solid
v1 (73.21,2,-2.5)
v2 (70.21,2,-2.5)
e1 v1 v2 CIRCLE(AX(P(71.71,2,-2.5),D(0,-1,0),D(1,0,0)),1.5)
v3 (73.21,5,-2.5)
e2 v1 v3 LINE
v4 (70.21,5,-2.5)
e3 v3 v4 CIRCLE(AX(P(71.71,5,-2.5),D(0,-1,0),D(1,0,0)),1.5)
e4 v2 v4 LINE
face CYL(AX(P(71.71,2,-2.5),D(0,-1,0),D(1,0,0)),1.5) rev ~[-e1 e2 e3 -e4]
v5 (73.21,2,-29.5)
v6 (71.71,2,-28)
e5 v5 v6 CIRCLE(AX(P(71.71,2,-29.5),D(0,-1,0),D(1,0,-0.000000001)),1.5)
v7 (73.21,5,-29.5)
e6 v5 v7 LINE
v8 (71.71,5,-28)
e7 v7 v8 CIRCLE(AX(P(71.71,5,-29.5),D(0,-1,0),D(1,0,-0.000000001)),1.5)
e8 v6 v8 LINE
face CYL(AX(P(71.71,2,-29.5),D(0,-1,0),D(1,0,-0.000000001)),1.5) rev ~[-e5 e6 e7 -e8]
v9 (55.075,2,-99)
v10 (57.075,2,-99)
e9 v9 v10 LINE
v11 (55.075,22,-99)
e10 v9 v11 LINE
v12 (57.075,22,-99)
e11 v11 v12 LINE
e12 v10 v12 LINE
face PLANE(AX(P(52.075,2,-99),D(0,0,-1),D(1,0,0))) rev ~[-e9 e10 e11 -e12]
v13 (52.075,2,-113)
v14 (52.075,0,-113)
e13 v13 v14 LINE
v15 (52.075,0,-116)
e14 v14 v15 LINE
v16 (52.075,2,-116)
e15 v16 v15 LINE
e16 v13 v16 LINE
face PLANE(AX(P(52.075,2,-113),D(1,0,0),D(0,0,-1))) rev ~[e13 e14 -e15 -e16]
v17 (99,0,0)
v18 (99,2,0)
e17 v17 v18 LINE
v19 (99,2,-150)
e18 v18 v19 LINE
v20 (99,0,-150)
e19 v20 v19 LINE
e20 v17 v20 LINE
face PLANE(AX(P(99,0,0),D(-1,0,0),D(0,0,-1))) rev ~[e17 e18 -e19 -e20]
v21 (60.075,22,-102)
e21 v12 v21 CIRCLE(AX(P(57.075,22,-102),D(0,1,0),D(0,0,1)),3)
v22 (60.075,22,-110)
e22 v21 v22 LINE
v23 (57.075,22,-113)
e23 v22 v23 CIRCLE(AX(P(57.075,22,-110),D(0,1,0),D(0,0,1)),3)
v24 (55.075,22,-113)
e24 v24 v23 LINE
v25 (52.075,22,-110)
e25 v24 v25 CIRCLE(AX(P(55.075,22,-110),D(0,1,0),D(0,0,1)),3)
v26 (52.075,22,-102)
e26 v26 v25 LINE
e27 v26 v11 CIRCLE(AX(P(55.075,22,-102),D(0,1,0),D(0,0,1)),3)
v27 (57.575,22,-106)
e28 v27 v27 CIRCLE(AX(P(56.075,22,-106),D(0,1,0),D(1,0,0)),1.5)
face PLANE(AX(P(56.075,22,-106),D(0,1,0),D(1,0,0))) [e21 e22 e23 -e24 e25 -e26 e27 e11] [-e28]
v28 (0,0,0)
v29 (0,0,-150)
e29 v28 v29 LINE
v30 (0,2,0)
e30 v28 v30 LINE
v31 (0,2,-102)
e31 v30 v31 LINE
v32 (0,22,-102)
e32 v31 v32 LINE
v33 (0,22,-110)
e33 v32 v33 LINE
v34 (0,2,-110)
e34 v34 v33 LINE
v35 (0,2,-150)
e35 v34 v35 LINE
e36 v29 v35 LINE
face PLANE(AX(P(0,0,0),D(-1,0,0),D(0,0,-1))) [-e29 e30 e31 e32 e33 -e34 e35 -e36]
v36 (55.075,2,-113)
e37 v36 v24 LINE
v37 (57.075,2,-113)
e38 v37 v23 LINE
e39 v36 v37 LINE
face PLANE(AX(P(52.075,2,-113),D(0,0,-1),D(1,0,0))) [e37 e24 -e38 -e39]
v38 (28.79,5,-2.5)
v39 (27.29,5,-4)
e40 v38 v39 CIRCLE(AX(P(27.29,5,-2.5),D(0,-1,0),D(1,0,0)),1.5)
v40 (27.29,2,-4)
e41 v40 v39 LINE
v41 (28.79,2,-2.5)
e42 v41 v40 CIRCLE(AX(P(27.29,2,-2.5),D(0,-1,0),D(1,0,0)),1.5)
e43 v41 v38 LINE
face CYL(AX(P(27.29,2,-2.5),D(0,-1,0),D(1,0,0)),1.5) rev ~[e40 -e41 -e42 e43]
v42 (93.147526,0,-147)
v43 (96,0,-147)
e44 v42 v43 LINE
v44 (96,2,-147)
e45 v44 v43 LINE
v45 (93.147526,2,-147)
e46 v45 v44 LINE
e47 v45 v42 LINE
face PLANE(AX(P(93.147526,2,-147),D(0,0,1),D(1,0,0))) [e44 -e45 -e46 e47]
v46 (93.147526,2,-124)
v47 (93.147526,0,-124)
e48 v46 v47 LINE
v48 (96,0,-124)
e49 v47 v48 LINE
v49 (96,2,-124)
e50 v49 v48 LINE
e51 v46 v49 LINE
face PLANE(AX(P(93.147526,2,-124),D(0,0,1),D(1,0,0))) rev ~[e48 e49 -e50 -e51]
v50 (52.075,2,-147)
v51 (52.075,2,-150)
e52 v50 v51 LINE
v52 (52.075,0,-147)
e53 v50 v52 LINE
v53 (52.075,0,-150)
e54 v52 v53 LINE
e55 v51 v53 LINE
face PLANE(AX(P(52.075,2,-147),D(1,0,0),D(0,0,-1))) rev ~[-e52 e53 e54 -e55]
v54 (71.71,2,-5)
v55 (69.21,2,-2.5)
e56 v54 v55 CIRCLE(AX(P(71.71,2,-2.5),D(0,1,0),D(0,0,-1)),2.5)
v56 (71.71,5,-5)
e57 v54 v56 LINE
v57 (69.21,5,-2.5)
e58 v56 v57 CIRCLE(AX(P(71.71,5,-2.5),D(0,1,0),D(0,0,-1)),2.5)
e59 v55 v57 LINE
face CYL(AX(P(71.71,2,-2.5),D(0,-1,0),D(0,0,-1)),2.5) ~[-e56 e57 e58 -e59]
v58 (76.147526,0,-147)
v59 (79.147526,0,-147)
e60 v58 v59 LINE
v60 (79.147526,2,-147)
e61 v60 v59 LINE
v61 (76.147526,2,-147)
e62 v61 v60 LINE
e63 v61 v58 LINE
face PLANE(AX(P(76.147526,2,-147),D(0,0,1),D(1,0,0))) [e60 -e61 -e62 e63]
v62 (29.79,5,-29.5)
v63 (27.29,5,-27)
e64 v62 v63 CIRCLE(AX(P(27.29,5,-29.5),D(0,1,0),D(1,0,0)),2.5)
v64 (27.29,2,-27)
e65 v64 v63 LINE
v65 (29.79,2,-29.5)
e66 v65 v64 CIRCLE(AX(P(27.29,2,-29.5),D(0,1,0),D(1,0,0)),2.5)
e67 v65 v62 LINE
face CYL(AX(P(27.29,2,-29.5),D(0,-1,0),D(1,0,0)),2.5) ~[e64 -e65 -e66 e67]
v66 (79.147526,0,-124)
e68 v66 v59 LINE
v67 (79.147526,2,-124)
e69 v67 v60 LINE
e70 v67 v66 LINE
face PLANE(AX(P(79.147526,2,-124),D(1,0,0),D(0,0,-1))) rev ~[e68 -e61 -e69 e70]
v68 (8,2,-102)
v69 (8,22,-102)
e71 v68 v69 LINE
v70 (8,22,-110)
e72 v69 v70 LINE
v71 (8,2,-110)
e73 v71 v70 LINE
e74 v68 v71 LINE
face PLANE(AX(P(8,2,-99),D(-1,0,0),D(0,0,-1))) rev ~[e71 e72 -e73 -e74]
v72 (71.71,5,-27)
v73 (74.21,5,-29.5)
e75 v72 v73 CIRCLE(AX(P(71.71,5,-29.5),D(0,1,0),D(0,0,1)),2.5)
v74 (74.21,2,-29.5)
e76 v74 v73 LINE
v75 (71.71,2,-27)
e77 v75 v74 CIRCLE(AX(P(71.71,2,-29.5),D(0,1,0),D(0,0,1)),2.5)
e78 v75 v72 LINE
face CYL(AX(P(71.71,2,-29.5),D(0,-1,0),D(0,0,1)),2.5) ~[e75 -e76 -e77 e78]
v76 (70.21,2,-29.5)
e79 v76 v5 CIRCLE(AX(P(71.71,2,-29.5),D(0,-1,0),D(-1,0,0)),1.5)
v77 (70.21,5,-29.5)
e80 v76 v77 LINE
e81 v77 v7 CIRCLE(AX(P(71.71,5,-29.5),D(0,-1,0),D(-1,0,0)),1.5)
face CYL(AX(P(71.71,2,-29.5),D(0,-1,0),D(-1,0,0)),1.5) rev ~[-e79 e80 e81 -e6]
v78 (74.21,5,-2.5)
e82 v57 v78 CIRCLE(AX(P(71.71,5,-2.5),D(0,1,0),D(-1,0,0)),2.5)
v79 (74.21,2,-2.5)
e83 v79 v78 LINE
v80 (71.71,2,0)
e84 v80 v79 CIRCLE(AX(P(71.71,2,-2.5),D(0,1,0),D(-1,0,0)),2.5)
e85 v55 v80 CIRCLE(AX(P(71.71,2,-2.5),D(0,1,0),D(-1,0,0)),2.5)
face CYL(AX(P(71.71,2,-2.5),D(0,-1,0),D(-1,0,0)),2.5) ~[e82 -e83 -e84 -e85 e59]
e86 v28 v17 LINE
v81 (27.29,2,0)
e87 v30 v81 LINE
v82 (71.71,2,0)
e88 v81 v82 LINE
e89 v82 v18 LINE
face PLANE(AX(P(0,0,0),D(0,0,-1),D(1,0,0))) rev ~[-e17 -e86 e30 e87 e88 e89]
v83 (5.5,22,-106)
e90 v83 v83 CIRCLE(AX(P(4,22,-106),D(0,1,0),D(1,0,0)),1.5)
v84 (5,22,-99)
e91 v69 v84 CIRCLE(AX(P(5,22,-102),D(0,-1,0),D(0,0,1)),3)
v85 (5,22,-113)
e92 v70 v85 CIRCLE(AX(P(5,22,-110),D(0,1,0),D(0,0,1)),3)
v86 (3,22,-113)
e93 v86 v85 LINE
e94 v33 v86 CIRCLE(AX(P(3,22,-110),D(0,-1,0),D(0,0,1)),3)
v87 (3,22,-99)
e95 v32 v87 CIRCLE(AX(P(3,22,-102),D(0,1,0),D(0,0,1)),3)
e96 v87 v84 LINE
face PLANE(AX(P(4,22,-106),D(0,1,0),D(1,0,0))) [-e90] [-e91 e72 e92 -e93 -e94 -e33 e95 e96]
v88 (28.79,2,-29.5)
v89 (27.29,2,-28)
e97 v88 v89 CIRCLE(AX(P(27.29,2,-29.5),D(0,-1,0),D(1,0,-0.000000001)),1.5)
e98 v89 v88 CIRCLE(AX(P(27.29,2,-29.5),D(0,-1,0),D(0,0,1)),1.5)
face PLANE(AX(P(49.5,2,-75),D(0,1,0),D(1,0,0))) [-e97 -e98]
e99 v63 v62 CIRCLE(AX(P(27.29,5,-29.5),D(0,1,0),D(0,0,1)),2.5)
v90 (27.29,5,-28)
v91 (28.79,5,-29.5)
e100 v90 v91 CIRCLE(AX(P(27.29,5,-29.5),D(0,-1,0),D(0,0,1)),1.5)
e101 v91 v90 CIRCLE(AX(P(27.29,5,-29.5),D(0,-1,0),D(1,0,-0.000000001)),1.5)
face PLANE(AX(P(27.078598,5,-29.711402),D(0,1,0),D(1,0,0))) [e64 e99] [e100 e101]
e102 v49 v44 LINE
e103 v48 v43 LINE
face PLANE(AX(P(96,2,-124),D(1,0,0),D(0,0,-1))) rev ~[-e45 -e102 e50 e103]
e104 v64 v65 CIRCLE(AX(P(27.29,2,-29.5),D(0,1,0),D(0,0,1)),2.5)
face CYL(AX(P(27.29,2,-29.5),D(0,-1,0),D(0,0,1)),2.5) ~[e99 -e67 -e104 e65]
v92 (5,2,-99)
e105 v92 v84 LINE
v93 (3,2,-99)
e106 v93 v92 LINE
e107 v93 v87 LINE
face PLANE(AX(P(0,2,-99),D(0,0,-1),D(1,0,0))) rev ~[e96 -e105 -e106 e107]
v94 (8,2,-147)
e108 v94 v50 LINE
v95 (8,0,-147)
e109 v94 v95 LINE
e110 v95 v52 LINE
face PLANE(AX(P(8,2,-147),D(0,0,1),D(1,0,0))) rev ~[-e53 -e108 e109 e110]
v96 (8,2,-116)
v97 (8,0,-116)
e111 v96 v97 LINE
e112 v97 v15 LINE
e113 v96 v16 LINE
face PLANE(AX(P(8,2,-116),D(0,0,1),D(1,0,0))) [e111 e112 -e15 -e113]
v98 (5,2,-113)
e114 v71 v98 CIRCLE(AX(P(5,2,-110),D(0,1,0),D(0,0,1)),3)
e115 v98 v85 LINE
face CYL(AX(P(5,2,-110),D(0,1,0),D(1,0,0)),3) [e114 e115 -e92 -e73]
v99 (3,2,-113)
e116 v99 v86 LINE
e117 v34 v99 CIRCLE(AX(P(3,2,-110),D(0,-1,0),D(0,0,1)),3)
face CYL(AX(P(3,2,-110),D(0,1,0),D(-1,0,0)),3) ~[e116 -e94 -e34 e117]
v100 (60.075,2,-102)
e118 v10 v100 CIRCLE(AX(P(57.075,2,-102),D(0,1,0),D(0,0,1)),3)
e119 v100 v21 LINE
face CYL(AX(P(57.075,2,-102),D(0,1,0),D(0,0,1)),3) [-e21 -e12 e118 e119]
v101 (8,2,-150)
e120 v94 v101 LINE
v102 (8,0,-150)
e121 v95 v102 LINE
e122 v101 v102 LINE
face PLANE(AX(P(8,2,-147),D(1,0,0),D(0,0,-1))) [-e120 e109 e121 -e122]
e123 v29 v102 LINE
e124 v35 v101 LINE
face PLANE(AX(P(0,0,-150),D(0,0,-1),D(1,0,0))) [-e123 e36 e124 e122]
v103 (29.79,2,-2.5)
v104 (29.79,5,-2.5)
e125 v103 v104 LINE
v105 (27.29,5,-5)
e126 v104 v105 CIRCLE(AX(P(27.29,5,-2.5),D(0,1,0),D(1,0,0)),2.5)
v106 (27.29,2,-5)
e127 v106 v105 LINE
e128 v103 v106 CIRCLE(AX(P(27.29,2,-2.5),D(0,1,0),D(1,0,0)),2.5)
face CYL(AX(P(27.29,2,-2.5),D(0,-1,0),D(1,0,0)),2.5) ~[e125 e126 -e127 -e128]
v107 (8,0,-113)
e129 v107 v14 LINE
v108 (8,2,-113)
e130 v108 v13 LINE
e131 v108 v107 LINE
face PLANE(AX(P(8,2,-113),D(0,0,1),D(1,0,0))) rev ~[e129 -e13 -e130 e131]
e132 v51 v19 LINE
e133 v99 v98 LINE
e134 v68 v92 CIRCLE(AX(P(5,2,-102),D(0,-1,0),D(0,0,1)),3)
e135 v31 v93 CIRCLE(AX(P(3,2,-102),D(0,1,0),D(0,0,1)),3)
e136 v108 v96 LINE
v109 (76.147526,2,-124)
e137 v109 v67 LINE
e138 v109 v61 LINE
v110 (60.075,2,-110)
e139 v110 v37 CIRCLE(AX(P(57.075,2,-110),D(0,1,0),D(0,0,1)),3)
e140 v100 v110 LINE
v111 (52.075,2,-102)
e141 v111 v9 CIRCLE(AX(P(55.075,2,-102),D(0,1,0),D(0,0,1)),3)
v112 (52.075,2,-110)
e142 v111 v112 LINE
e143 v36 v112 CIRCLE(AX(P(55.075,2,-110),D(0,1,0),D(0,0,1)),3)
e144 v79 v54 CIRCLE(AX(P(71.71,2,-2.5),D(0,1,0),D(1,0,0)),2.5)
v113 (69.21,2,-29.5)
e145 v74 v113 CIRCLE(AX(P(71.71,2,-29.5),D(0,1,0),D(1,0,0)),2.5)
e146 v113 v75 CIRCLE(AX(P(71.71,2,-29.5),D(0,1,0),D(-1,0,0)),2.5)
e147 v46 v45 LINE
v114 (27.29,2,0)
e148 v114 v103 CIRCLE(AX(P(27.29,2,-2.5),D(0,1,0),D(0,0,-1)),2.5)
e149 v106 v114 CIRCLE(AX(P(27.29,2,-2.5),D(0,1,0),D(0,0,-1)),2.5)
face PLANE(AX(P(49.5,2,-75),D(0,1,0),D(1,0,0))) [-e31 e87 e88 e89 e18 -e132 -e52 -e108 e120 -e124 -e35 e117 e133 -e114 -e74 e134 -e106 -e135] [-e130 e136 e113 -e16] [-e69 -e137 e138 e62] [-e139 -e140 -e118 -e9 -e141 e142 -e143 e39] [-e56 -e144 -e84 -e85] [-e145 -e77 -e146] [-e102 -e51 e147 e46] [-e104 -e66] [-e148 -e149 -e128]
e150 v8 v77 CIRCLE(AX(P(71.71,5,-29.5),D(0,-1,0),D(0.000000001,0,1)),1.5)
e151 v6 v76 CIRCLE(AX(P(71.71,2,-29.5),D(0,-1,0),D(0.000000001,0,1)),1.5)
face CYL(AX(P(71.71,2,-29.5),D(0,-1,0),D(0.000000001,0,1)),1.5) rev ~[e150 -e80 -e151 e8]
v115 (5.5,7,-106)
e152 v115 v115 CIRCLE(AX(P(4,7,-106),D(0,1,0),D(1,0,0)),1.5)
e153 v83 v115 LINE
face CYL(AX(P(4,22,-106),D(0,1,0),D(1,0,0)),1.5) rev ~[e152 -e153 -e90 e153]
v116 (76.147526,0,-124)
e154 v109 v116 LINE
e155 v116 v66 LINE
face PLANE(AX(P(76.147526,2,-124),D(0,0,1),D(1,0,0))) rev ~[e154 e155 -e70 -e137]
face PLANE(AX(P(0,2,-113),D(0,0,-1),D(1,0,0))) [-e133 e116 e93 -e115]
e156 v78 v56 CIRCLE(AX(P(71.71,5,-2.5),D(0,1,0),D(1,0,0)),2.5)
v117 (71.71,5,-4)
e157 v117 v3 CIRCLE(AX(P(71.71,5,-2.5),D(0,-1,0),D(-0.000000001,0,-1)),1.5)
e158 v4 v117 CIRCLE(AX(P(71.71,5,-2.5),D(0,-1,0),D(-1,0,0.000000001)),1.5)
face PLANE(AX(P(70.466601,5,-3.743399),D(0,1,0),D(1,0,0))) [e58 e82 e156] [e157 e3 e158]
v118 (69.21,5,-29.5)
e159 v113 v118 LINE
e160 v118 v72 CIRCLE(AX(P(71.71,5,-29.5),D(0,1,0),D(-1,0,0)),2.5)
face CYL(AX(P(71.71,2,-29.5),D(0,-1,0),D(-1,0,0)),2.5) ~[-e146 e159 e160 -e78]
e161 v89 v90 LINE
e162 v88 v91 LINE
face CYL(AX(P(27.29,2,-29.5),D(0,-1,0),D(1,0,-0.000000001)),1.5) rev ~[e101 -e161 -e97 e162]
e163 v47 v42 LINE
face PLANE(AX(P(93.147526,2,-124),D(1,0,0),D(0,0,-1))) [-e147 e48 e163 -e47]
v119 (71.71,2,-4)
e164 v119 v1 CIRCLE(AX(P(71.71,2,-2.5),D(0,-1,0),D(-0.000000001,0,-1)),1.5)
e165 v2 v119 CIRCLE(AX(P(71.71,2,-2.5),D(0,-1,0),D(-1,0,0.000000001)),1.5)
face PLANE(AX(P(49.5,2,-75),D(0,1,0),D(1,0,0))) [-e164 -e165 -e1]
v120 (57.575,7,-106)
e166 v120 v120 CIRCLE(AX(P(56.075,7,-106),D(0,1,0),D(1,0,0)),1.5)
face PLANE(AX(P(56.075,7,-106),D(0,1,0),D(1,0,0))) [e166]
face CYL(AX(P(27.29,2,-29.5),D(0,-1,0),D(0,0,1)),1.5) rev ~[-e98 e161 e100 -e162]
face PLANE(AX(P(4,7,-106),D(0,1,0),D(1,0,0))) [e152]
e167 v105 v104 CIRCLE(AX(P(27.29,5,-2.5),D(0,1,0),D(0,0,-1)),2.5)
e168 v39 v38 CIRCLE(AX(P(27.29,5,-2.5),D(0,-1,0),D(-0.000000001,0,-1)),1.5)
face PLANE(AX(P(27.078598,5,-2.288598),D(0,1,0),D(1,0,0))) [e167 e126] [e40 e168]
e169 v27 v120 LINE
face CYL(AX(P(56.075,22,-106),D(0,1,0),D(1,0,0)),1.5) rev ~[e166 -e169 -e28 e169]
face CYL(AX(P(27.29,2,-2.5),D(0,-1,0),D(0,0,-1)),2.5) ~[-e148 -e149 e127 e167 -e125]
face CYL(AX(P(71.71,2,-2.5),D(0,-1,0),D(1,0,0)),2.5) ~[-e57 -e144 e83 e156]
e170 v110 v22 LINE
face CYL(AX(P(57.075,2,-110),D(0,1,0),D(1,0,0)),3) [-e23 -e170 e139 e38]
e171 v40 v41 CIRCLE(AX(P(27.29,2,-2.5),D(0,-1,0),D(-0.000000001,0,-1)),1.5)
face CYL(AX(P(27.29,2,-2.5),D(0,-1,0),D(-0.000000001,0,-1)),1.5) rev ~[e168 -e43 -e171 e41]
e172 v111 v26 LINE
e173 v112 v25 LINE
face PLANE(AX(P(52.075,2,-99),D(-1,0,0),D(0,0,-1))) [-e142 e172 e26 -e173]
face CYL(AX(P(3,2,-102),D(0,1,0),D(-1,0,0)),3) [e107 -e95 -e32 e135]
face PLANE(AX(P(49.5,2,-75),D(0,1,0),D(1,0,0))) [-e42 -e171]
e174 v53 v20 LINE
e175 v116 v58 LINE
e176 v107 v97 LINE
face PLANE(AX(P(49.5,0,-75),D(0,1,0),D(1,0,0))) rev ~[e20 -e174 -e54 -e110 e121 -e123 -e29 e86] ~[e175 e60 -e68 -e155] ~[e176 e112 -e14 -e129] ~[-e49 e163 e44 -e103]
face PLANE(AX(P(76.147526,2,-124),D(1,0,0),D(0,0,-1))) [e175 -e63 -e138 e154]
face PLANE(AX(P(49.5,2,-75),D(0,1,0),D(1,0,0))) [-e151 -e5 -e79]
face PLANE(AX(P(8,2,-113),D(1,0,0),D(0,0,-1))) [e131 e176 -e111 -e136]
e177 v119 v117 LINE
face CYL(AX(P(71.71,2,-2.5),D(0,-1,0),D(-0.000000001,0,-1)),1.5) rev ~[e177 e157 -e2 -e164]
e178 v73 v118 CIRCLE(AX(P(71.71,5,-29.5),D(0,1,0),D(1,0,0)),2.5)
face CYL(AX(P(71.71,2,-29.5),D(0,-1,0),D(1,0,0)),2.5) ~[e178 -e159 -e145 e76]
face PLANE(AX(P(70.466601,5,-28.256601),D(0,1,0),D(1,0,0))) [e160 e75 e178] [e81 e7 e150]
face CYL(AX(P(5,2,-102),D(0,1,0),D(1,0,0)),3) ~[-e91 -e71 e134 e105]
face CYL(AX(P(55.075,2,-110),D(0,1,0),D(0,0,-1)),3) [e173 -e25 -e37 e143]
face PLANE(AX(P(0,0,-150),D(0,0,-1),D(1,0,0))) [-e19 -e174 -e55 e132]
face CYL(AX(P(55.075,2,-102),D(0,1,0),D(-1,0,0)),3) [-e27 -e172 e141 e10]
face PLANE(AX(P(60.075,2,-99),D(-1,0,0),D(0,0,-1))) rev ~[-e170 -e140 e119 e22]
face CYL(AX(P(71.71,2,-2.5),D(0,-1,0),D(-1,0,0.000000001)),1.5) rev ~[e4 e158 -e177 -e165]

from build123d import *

# Parameters (mm, degrees)
SKETCH1_W           = 99
SKETCH1_H           = 150
BOSS_EXTRUDE1_DEPTH = 2
SKETCH2_W           = 8
SKETCH2_H           = 14
BOSS_EXTRUDE2_DEPTH = 20
SKETCH3_R           = 1.5
CUT_EXTRUDE2_DEPTH  = 15
FILLET1_R           = 3
FILLET2_R           = 3
FILLET5_R           = 3
FILLET6_R           = 3
FILLET7_R           = 3
FILLET8_R           = 3
FILLET9_R           = 3
FILLET10_R          = 3
SKETCH5_W           = 44.075
SKETCH5_H           = 3
SKETCH5_W_2         = 2.852474079
SKETCH5_H_2         = 23
SKETCH5_W_3         = 3
CUT_EXTRUDE3_DEPTH  = 10
BOSS_EXTRUDE3_DEPTH = 3


with BuildPart() as part:
    # Sketch1 → Boss-Extrude1 (new body)
    with BuildSketch(Plane(origin=(0, 0, 0), x_dir=(1, 0, 0), z_dir=(0, 1, 0))):
        with Locations((49.5, 75)):
            Rectangle(SKETCH1_W, SKETCH1_H)
    extrude(amount=BOSS_EXTRUDE1_DEPTH)

    # Sketch2 → Boss-Extrude2 (add)
    with BuildSketch(Plane(origin=(0, 2, 0), x_dir=(1, 0, 0), z_dir=(0, 1, 0))):
        with Locations((4, 106)):
            Rectangle(SKETCH2_W, SKETCH2_H)
        with Locations((56.075, 106)):
            Rectangle(SKETCH2_W, SKETCH2_H)
    extrude(amount=BOSS_EXTRUDE2_DEPTH)

    # Sketch3 → Cut-Extrude2 (cut)
    with BuildSketch(Plane(origin=(0, 22, 0), x_dir=(1, 0, 0), z_dir=(0, 1, 0))):
        with Locations((56.075, 106)):
            Circle(SKETCH3_R)
        with Locations((4, 106)):
            Circle(SKETCH3_R)
    extrude(amount=-CUT_EXTRUDE2_DEPTH, mode=Mode.SUBTRACT)

    # Fillet1
    fillet1_edges = [part.edges().sort_by_distance(p)[0] for p in [
        (0, 12, -99),
    ]]
    fillet(fillet1_edges, radius=FILLET1_R)

    # Fillet2
    fillet2_edges = [part.edges().sort_by_distance(p)[0] for p in [
        (0, 12, -113),
    ]]
    fillet(fillet2_edges, radius=FILLET2_R)

    # Fillet5
    fillet5_edges = [part.edges().sort_by_distance(p)[0] for p in [
        (8, 12, -113),
    ]]
    fillet(fillet5_edges, radius=FILLET5_R)

    # Fillet6
    fillet6_edges = [part.edges().sort_by_distance(p)[0] for p in [
        (8, 12, -99),
    ]]
    fillet(fillet6_edges, radius=FILLET6_R)

    # Fillet7
    fillet7_edges = [part.edges().sort_by_distance(p)[0] for p in [
        (60.075, 12, -99),
    ]]
    fillet(fillet7_edges, radius=FILLET7_R)

    # Fillet8
    fillet8_edges = [part.edges().sort_by_distance(p)[0] for p in [
        (60.075, 12, -113),
    ]]
    fillet(fillet8_edges, radius=FILLET8_R)

    # Fillet9
    fillet9_edges = [part.edges().sort_by_distance(p)[0] for p in [
        (52.075, 12, -113),
    ]]
    fillet(fillet9_edges, radius=FILLET9_R)

    # Fillet10
    fillet10_edges = [part.edges().sort_by_distance(p)[0] for p in [
        (52.075, 12, -99),
    ]]
    fillet(fillet10_edges, radius=FILLET10_R)

    # Sketch5 → Cut-Extrude3 (cut)
    with BuildSketch(Plane(origin=(0, 2, 0), x_dir=(1, 0, 0), z_dir=(0, 1, 0))):
        with Locations((30.0375, 148.5)):
            Rectangle(SKETCH5_W, SKETCH5_H)
        with Locations((30.0375, 114.5)):
            Rectangle(SKETCH5_W, SKETCH5_H)
        with Locations((94.573762961, 135.5)):
            Rectangle(SKETCH5_W_2, SKETCH5_H_2)
        with Locations((77.647525921, 135.5)):
            Rectangle(SKETCH5_W_3, SKETCH5_H_2)
    extrude(amount=-CUT_EXTRUDE3_DEPTH, mode=Mode.SUBTRACT)

    # Sketch6 → Boss-Extrude3 (add)
    with BuildSketch(Plane(origin=(0, 2, 0), x_dir=(1, 0, 0), z_dir=(0, 1, 0))):
        with BuildLine():
            ThreePointArc((29.79, 29.5), (25.522233047, 31.267766953), (27.29, 27))
            Line((27.29, 27), (27.29, 28))
            ThreePointArc((27.29, 28), (26.229339828, 30.560660172), (28.79, 29.5))
            Line((28.79, 29.5), (29.79, 29.5))
        make_face()
        with BuildLine():
            Line((27.29, 28), (27.29, 27))
            ThreePointArc((27.29, 27), (29.057766953, 27.732233047), (29.79, 29.5))
            Line((29.79, 29.5), (28.79, 29.5))
            ThreePointArc((28.79, 29.5), (28.350660172, 28.439339828), (27.29, 28))
        make_face()
        with BuildLine():
            ThreePointArc((69.21, 29.5), (69.942233047, 27.732233047), (71.71, 27))
            Line((71.71, 27), (71.71, 28))
            ThreePointArc((71.71, 28), (70.649339828, 28.439339828), (70.21, 29.5))
            Line((70.21, 29.5), (69.21, 29.5))
        make_face()
        with BuildLine():
            Line((71.71, 28), (71.71, 27))
            ThreePointArc((71.71, 27), (73.477766953, 27.732233047), (74.21, 29.5))
            ThreePointArc((74.21, 29.5), (71.71, 32), (69.21, 29.5))
            Line((69.21, 29.5), (70.21, 29.5))
            ThreePointArc((70.21, 29.5), (71.71, 31), (73.21, 29.5))
            ThreePointArc((73.21, 29.5), (72.770660172, 28.439339828), (71.71, 28))
        make_face()
        with BuildLine():
            ThreePointArc((27.29, 5), (25.522233047, 0.732233047), (29.79, 2.5))
            Line((29.79, 2.5), (28.79, 2.5))
            ThreePointArc((28.79, 2.5), (26.229339828, 1.439339828), (27.29, 4))
            Line((27.29, 4), (27.29, 5))
        make_face()
        with BuildLine():
            Line((28.79, 2.5), (29.79, 2.5))
            ThreePointArc((29.79, 2.5), (29.057766953, 4.267766953), (27.29, 5))
            Line((27.29, 5), (27.29, 4))
            ThreePointArc((27.29, 4), (28.350660172, 3.560660172), (28.79, 2.5))
        make_face()
        with BuildLine():
            ThreePointArc((71.71, 5), (69.942233047, 4.267766953), (69.21, 2.5))
            Line((69.21, 2.5), (70.21, 2.5))
            ThreePointArc((70.21, 2.5), (70.649339828, 3.560660172), (71.71, 4))
            Line((71.71, 4), (71.71, 5))
        make_face()
        with BuildLine():
            Line((70.21, 2.5), (69.21, 2.5))
            ThreePointArc((69.21, 2.5), (71.71, 0), (74.21, 2.5))
            ThreePointArc((74.21, 2.5), (73.477766953, 4.267766953), (71.71, 5))
            Line((71.71, 5), (71.71, 4))
            ThreePointArc((71.71, 4), (72.770660172, 3.560660172), (73.21, 2.5))
            ThreePointArc((73.21, 2.5), (71.71, 1), (70.21, 2.5))
        make_face()
    extrude(amount=BOSS_EXTRUDE3_DEPTH)


solid = part.part
